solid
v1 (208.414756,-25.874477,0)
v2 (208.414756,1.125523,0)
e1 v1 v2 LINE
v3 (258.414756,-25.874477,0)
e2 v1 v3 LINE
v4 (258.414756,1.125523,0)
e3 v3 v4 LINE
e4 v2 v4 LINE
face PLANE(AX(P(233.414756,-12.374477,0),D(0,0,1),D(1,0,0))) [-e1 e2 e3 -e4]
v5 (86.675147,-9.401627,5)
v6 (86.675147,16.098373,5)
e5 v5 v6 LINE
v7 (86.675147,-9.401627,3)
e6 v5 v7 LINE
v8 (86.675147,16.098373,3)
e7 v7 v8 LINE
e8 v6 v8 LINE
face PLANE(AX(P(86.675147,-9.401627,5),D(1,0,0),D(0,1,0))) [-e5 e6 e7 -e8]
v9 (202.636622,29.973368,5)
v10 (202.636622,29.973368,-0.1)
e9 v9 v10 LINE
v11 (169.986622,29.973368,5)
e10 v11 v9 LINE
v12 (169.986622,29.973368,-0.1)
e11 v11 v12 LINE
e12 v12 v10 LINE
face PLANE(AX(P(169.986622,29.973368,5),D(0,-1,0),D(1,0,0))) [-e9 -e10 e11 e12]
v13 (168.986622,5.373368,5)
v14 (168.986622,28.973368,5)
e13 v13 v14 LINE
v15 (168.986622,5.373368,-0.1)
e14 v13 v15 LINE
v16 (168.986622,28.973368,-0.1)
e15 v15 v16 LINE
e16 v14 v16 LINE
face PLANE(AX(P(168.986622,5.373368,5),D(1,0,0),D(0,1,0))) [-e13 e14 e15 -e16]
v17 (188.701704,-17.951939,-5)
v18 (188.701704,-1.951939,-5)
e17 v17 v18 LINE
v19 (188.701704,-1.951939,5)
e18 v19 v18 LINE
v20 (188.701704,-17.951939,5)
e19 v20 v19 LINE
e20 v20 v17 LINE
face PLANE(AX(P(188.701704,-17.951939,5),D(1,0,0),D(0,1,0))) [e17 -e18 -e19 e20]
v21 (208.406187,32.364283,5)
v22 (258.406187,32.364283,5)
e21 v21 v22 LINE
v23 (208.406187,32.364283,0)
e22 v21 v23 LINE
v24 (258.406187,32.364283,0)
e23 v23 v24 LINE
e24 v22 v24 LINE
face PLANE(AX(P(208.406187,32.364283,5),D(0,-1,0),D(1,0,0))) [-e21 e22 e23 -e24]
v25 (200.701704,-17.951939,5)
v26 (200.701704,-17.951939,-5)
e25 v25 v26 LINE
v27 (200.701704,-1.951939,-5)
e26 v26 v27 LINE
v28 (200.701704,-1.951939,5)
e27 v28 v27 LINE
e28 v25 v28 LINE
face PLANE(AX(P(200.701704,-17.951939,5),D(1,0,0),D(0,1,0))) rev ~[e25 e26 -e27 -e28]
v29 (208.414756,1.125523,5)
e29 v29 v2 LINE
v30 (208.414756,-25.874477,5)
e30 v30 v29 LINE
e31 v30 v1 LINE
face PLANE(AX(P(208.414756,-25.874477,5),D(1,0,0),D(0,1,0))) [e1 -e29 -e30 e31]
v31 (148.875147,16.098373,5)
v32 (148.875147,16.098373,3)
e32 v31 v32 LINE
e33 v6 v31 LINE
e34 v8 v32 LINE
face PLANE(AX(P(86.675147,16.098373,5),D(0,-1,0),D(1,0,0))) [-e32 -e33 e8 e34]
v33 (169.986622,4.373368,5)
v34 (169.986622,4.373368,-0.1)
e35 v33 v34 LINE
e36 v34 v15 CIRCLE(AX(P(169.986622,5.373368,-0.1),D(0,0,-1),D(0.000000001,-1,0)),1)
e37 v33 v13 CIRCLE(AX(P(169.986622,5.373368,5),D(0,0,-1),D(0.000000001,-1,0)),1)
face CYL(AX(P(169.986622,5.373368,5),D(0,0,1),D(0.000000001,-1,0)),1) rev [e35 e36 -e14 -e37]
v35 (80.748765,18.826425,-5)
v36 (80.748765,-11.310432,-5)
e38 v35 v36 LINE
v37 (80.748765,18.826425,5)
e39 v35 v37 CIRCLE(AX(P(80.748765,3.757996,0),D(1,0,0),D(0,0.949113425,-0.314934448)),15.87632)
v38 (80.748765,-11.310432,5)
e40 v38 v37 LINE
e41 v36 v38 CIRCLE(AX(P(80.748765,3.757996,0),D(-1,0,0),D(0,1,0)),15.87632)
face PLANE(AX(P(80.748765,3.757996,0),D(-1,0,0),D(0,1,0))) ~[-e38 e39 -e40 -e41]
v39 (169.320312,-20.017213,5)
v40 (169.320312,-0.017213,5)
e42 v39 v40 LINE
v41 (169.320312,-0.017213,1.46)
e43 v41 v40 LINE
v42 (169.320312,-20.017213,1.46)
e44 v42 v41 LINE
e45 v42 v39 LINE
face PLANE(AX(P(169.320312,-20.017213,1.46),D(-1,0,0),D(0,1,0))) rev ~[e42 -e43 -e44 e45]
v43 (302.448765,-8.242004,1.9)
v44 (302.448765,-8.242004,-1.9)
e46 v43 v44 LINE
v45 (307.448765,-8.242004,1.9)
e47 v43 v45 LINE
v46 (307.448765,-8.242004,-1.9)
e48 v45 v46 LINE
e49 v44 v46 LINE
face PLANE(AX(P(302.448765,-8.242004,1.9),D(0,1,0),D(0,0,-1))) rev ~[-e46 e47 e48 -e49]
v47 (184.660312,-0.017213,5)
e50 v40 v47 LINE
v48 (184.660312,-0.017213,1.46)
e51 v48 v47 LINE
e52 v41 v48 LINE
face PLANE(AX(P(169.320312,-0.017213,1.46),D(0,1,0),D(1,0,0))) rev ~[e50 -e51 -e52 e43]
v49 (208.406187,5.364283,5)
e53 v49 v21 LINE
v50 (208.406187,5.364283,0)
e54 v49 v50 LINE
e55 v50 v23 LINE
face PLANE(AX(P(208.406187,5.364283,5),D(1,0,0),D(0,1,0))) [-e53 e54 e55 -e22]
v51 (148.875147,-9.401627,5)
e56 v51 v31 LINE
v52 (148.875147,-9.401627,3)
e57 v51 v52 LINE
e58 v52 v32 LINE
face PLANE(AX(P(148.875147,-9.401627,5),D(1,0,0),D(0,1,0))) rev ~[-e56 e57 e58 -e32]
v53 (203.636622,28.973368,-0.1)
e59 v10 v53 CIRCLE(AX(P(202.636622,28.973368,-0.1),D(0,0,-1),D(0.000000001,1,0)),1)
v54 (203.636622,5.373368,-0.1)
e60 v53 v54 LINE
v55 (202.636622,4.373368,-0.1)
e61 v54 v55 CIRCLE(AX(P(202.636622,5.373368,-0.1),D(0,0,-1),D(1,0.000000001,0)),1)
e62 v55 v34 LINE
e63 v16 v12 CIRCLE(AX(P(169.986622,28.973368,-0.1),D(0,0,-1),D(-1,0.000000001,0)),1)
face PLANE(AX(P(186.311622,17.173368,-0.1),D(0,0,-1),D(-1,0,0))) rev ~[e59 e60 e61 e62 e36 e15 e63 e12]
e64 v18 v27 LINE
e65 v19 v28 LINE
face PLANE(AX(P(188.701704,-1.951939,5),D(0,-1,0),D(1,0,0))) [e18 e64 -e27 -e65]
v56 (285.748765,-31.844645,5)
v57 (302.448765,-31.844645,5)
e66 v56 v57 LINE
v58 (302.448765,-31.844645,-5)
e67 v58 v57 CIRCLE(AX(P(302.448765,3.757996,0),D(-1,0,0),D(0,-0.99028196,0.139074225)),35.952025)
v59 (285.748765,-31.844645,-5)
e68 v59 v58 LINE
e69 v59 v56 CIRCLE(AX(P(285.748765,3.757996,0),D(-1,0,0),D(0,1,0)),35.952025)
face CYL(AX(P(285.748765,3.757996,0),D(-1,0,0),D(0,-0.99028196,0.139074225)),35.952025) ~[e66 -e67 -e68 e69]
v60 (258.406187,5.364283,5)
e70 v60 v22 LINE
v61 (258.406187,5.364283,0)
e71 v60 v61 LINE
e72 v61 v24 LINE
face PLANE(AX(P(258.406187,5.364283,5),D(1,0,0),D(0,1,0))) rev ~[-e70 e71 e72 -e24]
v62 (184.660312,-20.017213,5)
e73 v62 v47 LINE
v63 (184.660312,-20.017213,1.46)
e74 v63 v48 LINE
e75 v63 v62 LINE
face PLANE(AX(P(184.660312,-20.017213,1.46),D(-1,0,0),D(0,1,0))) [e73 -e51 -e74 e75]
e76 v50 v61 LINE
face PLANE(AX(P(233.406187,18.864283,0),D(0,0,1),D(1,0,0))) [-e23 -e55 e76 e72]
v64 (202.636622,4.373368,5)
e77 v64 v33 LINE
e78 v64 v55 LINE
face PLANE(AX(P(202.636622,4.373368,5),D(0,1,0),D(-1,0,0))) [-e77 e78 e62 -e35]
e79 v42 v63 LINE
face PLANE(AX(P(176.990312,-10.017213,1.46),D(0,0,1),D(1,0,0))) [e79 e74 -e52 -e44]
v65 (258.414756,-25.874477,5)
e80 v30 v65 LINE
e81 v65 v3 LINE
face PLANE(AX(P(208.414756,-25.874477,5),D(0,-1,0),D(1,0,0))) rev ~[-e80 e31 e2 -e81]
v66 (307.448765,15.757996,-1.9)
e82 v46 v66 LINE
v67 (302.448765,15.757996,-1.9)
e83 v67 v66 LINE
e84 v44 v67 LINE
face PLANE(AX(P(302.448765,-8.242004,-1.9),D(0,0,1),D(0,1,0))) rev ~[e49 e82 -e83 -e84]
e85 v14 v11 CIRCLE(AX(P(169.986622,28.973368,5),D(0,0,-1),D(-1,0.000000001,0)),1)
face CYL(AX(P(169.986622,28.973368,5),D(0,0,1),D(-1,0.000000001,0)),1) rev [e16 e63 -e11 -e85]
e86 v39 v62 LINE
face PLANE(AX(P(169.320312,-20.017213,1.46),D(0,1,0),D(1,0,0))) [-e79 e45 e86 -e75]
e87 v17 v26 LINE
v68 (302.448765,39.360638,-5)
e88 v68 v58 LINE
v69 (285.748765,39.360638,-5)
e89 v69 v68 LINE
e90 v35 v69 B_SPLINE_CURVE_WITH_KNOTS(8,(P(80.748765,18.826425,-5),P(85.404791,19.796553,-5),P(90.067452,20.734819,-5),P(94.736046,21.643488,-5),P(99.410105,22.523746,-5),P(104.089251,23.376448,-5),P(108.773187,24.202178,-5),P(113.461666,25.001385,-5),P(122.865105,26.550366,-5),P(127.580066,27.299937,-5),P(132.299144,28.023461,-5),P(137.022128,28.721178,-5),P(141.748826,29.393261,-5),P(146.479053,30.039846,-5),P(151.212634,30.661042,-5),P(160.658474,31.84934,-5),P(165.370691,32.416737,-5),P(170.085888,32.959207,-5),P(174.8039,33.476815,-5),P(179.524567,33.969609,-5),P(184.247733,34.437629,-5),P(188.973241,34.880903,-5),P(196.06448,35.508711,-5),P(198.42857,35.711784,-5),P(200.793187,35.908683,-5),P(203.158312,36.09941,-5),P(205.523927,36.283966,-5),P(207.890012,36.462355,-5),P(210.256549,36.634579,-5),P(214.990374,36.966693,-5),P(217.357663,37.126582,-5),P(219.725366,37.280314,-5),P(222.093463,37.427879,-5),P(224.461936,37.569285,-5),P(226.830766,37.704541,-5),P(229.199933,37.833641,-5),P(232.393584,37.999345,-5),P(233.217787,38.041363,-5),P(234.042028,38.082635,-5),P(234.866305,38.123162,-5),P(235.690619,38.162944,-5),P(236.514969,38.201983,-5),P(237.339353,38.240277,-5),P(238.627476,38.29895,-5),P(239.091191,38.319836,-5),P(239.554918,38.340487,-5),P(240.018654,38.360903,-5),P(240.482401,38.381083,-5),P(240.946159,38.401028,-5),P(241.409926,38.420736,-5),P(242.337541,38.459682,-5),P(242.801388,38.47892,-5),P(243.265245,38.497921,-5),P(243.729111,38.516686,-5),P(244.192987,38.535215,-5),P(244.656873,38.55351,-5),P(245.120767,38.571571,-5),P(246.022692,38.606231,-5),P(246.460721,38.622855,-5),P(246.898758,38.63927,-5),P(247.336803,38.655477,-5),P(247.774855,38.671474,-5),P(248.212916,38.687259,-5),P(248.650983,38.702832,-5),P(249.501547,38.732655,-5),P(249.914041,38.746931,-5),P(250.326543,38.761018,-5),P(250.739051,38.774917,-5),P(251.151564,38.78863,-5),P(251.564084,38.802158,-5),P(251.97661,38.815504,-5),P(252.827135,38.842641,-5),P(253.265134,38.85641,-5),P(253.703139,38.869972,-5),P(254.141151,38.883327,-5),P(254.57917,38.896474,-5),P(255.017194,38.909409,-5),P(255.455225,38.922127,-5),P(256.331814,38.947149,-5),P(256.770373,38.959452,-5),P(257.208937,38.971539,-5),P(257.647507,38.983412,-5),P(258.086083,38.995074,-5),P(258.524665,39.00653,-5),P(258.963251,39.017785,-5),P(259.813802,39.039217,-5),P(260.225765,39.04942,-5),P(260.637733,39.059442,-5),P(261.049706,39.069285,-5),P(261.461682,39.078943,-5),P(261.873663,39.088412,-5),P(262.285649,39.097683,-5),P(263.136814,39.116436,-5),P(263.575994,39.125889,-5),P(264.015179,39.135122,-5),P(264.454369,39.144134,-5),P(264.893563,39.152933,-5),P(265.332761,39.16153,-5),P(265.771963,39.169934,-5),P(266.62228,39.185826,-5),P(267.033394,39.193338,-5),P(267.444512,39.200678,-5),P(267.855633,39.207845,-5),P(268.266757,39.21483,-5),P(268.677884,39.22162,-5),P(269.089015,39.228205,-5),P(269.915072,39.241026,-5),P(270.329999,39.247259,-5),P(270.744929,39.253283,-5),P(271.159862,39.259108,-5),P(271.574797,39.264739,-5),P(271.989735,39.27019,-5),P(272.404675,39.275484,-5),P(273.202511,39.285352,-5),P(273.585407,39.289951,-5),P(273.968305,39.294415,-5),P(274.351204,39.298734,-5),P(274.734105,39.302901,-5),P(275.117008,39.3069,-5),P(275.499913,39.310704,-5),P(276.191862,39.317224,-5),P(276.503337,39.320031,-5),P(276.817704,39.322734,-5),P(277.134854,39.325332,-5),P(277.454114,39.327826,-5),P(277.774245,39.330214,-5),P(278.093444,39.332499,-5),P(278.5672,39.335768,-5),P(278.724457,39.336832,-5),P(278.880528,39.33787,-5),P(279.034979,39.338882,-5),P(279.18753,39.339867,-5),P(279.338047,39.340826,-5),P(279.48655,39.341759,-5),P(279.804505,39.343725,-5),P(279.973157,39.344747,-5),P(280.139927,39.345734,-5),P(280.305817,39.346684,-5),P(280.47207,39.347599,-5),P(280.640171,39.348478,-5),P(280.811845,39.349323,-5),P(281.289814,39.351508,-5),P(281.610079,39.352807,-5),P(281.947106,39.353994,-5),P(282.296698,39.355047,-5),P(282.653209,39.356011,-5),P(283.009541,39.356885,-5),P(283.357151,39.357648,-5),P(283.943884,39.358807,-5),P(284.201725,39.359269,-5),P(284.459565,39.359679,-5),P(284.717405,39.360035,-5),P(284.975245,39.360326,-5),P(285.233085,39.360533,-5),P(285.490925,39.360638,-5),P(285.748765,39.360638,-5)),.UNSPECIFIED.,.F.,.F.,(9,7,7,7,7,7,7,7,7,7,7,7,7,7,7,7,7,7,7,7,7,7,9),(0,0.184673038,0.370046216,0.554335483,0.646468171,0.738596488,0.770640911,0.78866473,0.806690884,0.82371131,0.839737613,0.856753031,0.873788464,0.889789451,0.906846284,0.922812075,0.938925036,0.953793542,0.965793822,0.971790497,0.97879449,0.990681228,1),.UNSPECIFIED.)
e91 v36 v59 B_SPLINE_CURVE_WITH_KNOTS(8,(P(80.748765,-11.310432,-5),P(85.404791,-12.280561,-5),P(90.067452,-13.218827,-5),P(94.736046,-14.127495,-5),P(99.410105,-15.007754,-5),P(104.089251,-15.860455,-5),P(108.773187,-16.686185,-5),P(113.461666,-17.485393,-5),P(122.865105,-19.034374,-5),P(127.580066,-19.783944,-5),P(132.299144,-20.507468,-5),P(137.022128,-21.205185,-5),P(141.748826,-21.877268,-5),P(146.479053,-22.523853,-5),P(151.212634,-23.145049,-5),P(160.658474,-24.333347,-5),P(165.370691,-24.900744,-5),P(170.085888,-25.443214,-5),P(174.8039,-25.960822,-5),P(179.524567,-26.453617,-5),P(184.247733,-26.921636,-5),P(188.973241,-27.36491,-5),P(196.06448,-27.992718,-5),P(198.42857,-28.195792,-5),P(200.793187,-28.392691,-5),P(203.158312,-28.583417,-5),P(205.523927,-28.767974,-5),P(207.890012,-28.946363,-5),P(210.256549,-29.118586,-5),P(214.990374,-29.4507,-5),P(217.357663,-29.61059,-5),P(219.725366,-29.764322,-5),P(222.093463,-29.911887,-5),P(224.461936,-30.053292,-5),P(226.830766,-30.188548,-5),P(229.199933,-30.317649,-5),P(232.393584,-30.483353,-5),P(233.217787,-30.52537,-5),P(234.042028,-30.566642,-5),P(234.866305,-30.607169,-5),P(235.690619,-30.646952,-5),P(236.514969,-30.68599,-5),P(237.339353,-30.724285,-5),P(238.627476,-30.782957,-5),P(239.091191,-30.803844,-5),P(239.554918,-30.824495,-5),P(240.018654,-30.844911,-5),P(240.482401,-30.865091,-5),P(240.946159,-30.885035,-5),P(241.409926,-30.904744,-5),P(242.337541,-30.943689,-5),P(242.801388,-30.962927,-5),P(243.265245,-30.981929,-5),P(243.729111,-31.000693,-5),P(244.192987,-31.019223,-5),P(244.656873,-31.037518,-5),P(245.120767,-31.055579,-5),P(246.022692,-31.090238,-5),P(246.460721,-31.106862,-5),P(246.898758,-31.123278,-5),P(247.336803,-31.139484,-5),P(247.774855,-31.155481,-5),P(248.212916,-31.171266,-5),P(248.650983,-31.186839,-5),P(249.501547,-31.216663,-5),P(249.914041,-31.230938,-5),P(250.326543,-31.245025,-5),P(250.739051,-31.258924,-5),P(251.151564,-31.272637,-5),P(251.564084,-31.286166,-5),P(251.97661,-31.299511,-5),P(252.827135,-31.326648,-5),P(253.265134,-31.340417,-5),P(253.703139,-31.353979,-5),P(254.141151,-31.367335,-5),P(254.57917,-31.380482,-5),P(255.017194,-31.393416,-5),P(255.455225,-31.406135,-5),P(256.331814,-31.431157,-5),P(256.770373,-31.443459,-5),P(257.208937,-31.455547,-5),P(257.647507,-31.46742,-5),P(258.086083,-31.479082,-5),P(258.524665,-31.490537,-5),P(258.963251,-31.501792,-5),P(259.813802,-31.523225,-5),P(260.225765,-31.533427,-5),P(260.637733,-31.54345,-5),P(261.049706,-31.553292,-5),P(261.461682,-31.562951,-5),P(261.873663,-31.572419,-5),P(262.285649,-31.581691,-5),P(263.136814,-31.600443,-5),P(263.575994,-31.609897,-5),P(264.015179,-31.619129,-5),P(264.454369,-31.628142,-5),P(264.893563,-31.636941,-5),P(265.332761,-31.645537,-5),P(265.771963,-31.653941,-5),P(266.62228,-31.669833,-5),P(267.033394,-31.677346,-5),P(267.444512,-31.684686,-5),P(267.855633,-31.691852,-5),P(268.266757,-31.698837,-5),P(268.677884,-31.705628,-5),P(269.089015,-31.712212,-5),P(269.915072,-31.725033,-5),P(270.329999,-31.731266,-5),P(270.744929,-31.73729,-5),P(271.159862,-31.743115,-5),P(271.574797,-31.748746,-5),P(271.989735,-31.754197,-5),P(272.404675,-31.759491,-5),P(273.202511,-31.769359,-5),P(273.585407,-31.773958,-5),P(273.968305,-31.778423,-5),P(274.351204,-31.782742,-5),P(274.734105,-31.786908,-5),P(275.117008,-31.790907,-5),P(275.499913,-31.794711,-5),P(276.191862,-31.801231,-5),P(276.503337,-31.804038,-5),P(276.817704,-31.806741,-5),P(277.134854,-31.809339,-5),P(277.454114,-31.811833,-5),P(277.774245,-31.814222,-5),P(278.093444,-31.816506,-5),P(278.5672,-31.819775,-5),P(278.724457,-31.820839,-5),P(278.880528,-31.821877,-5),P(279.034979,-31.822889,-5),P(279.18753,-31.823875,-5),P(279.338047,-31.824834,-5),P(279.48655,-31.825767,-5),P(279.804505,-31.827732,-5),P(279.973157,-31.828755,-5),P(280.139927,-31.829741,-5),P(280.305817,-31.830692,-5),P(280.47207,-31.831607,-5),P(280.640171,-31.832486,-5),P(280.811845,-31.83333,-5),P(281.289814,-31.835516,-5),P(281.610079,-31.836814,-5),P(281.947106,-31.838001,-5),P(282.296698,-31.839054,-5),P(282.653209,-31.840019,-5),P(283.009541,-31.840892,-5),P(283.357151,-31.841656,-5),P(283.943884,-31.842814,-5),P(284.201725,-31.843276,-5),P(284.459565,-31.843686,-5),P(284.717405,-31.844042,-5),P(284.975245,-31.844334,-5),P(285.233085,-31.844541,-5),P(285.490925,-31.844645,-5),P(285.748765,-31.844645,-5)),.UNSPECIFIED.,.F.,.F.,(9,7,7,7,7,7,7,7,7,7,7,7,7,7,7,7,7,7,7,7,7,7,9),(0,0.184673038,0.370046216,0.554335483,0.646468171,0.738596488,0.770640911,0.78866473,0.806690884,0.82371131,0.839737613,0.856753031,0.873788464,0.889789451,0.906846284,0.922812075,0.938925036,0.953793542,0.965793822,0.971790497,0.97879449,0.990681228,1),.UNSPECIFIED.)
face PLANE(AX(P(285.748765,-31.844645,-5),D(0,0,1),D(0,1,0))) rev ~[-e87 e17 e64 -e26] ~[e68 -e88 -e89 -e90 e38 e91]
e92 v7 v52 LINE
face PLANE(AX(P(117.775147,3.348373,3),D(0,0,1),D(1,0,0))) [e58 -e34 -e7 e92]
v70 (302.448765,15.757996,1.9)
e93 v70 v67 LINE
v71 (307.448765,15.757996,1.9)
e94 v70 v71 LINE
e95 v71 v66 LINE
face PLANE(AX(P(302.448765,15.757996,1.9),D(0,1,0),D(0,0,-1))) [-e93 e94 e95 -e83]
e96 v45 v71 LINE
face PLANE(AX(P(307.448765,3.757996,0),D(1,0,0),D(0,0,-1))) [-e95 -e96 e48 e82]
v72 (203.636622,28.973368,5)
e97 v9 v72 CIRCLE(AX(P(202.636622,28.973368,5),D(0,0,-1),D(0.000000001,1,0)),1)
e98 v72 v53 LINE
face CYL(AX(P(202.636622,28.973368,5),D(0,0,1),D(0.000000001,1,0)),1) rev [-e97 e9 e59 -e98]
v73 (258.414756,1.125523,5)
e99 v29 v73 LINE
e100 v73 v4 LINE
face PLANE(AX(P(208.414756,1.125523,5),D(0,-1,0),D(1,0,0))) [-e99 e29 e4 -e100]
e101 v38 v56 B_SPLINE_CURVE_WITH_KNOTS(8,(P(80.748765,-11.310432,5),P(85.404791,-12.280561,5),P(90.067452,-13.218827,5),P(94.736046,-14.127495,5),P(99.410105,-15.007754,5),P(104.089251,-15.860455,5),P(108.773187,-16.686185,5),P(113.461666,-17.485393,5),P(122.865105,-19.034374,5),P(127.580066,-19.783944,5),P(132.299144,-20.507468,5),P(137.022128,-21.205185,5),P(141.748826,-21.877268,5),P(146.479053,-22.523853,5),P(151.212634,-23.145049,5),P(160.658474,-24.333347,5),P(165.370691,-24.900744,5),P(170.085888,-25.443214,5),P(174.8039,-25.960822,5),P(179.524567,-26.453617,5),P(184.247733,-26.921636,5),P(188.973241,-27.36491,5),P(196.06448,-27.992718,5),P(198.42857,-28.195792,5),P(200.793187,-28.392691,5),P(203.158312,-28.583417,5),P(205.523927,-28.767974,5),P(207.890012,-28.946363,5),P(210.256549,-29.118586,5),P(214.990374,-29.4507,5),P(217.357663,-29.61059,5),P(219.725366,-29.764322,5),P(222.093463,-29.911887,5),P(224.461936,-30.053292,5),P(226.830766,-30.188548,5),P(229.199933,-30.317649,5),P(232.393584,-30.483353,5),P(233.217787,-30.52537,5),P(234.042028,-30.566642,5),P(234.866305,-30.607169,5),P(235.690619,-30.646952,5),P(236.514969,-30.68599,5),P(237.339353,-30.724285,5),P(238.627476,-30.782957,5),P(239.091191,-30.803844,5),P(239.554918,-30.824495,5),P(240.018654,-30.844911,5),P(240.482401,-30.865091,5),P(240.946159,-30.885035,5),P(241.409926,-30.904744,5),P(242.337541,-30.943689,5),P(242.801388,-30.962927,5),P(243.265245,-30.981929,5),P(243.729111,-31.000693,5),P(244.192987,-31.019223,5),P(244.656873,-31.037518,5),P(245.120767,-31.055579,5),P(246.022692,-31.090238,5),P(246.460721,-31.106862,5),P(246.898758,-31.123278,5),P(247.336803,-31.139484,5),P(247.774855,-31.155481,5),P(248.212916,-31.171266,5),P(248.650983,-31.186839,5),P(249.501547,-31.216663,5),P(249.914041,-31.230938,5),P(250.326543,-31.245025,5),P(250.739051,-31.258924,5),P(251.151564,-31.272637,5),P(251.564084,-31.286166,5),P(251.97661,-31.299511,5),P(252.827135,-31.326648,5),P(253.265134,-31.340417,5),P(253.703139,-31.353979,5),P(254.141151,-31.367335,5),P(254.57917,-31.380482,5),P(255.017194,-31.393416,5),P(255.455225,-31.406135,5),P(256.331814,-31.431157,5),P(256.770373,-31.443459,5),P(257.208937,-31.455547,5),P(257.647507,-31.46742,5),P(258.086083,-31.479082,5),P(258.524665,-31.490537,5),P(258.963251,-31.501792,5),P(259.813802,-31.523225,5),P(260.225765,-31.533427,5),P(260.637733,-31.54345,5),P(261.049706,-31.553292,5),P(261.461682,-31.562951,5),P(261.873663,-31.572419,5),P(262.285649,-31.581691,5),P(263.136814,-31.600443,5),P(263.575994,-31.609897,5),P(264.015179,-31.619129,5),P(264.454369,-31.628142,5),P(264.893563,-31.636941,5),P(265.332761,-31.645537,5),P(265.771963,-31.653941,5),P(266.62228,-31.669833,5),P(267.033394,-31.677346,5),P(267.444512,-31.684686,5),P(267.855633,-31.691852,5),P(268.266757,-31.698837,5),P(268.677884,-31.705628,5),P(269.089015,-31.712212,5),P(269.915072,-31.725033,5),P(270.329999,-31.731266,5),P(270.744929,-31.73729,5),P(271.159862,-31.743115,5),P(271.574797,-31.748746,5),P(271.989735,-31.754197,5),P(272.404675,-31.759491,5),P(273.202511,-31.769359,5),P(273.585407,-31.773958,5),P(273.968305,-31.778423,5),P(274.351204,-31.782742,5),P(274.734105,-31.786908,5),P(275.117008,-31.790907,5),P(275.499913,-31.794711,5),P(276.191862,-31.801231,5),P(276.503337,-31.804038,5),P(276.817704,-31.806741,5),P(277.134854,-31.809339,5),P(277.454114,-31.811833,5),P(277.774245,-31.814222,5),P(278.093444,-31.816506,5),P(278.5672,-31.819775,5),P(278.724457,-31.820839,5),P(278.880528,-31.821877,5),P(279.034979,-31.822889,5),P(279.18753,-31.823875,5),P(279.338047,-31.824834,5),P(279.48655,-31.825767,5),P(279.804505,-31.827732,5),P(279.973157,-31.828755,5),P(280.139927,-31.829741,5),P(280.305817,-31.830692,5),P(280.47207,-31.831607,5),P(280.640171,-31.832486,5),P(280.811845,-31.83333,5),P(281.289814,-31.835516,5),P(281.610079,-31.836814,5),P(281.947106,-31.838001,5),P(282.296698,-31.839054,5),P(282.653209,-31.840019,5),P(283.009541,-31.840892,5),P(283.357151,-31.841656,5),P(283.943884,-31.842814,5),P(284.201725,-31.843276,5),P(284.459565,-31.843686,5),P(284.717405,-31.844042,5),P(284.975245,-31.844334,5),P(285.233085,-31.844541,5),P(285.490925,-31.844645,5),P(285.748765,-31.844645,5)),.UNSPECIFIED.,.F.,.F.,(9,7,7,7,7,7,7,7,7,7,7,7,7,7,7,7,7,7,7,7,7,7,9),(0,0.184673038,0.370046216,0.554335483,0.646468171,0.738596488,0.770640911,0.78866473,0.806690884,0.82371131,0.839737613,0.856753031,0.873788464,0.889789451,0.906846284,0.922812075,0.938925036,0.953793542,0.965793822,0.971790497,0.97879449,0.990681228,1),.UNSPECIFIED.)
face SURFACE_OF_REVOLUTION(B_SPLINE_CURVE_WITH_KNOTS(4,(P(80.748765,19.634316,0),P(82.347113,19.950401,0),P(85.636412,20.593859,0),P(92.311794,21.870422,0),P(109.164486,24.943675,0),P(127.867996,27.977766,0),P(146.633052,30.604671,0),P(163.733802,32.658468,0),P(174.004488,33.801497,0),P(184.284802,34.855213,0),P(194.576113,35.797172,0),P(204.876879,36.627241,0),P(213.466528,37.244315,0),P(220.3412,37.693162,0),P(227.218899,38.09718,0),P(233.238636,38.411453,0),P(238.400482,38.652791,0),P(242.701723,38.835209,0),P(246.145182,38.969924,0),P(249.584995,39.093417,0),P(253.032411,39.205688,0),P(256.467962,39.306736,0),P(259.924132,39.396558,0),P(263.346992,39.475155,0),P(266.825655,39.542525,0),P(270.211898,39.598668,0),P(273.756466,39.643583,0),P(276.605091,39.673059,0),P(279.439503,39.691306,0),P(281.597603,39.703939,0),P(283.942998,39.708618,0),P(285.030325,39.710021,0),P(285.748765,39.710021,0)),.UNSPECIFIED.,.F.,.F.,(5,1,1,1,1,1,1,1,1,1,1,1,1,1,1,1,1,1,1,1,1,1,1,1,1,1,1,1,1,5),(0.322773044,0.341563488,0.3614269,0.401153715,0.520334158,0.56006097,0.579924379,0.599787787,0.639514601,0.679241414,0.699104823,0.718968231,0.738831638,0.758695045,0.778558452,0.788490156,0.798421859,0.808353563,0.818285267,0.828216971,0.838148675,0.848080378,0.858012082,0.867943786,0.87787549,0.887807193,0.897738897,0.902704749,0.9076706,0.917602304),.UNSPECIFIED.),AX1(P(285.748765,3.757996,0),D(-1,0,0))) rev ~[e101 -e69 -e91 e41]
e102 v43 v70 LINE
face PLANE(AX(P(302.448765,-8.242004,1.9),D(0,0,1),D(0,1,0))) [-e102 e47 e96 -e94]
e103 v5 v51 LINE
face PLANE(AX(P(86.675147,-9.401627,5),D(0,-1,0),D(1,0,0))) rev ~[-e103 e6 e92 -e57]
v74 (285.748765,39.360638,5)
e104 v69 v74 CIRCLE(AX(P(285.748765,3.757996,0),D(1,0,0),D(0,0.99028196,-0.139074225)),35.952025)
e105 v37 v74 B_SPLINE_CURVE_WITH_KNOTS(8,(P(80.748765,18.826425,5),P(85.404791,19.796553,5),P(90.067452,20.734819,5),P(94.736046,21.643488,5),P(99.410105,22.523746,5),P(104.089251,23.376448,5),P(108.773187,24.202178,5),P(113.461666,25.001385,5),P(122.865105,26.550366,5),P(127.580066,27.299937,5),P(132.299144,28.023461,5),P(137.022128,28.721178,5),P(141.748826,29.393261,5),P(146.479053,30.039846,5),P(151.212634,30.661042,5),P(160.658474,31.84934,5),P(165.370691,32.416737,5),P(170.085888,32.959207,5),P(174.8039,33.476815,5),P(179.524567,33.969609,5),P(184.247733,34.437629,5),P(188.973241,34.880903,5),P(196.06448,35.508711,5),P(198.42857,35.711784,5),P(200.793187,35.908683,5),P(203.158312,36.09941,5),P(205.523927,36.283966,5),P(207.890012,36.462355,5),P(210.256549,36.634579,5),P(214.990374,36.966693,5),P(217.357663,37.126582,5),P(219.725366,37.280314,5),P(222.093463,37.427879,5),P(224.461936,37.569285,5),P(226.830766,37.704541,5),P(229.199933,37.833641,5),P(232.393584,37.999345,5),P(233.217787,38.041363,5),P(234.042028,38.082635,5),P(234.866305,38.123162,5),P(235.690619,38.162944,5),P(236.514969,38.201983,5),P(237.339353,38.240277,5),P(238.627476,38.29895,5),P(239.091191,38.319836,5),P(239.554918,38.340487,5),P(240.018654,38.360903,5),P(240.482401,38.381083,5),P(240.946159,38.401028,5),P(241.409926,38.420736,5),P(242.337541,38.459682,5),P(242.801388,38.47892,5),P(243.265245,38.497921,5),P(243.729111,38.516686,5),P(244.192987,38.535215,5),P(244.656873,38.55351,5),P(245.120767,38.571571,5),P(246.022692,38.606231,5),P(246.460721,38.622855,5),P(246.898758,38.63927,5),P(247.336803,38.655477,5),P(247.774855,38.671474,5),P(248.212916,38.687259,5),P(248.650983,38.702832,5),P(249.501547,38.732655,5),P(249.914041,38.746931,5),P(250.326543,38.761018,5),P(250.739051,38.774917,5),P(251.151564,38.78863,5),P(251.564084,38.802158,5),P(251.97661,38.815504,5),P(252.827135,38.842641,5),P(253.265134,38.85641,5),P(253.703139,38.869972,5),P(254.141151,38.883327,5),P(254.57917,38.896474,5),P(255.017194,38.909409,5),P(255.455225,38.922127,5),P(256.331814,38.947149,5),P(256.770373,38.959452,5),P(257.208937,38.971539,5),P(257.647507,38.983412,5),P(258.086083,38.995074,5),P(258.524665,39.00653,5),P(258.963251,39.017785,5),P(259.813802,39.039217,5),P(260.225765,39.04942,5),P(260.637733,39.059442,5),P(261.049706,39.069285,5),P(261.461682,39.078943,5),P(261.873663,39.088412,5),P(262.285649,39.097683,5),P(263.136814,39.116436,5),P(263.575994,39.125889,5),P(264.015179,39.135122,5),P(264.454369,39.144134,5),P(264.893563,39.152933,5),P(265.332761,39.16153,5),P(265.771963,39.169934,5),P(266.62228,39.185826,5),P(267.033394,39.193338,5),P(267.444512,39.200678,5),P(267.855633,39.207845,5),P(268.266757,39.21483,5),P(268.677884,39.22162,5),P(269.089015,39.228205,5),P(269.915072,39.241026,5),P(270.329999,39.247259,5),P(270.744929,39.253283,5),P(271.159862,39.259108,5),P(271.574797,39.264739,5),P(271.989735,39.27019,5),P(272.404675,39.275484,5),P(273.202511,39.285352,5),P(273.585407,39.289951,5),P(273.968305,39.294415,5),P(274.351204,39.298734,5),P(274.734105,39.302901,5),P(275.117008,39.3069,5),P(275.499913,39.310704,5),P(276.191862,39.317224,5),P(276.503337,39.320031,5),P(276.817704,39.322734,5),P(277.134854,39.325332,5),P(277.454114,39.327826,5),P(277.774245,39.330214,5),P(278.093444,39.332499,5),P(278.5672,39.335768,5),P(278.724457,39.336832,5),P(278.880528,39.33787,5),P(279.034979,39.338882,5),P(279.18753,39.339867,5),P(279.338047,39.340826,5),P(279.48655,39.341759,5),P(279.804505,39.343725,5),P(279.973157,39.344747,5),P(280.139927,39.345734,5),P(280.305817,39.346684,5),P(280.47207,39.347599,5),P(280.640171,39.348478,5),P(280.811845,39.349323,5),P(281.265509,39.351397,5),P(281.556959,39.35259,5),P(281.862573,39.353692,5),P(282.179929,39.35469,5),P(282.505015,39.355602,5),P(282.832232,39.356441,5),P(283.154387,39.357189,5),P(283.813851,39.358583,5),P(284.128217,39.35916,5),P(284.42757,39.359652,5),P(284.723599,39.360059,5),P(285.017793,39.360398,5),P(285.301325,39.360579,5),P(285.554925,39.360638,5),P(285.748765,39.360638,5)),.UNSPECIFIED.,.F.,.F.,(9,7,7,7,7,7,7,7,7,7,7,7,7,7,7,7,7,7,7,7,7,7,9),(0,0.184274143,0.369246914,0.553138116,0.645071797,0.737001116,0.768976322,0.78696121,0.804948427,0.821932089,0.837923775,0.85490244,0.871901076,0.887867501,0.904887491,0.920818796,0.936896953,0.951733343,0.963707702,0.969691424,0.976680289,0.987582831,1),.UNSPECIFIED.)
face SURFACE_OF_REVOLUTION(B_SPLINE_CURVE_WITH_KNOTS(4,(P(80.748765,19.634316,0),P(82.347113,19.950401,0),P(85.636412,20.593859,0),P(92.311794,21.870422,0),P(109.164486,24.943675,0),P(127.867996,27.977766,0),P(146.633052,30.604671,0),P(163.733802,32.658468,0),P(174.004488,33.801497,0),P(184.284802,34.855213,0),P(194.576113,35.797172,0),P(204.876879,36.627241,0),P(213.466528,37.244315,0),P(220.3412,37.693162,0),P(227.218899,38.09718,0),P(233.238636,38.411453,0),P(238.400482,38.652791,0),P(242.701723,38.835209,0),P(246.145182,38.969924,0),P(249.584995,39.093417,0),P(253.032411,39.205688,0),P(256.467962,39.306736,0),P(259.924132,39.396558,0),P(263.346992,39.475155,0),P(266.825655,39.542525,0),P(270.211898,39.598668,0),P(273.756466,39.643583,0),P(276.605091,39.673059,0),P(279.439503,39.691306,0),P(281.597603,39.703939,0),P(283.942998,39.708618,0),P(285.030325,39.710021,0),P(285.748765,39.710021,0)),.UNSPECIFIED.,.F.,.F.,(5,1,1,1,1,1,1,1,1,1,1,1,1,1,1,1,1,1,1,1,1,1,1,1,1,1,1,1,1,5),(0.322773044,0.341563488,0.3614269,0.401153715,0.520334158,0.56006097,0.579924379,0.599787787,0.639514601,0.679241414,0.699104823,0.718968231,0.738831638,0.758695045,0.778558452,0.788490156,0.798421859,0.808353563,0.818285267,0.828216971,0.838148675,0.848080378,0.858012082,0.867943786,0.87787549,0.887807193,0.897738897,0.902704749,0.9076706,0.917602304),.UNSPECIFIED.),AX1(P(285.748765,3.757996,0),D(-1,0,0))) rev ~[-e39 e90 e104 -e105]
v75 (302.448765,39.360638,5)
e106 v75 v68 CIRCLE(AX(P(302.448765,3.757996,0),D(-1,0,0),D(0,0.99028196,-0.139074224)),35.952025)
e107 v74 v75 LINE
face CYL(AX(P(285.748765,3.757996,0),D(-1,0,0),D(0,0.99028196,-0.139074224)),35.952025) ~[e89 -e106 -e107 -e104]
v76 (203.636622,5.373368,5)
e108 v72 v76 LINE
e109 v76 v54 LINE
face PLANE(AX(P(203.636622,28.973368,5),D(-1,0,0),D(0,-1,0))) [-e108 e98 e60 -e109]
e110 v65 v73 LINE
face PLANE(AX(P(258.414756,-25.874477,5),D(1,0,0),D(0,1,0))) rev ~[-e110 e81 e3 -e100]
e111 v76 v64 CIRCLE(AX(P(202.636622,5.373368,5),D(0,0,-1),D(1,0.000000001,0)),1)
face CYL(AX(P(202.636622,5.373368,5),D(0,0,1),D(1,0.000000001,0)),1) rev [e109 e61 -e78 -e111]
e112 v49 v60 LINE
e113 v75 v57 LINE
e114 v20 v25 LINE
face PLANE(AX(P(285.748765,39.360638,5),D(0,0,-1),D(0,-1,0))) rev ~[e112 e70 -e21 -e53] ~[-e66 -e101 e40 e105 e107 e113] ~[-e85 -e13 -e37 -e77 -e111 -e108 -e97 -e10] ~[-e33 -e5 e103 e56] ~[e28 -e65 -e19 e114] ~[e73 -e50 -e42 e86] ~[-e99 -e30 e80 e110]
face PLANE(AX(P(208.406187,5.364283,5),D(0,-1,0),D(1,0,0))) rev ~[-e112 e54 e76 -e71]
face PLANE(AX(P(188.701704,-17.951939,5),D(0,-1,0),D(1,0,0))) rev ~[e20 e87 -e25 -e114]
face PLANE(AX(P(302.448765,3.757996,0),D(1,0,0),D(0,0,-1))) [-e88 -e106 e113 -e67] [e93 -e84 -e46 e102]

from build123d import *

# Parameters (mm, degrees)
CUT_EXTRUDE1_DEPTH   = 212.88306668
BOSS_EXTRUDE2_DEPTH  = 139.7
SKETCH9_R            = 35.95202499
BOSS_EXTRUDE3_DEPTH  = 4
CUT_EXTRUDE2_DEPTH   = 4
SKETCH11_W           = 10
SKETCH11_H           = 34
CUT_EXTRUDE3_DEPTH   = 15
RASPBERRY_PI_5_DEPTH = 5
GPS_SLOT_DEPTH       = 5.1
SKETCH14_W           = 12
SKETCH14_H           = 16
MPU_DEPTH            = 434.220724454
ALTIMETER_DEPTH      = 434.220724454
ALTIMETER_DEPTH_BACK = 3.54
SKETCH15_W           = 15.34
SKETCH15_H           = 20
SKETCH16_W           = 62.2
SKETCH16_H           = 25.5
PCA9685_DEPTH        = 2
SKETCH17_W           = 50
SKETCH17_H           = 27
ESP_32_1_DEPTH       = 5
SKETCH18_W           = 55
SKETCH18_H           = 30.1
BATTERY_1_DEPTH      = 3.5
SKETCH21_W           = 55
SKETCH21_H           = 30.1
BATTERY_2_DEPTH      = 3.5
SKETCH25_W           = 21.1
SKETCH25_H           = 43.1
STEP_DOWN_DEPTH      = 1
BOSS_EXTRUDE4_START  = -120
SKETCH27_R           = 36.3
SKETCH27_R_2         = 30
BOSS_EXTRUDE4_DEPTH  = 7
CUT_EXTRUDE4_START   = -127
SKETCH28_R           = 36.3
CUT_EXTRUDE4_DEPTH   = 480.865446219
SKETCH29_W           = 3.8
SKETCH29_H           = 24
BOSS_EXTRUDE5_DEPTH  = 5
SKETCH33_W           = 50
SKETCH33_H           = 27
ESP_32_2_DEPTH       = 5


with BuildPart() as part:
    # Sketch3 → Revolve1 (revolve)
    with BuildSketch(Plane.XY):
        with BuildLine():
            Line((285.74876522, 39.710021262), (285.74876522, 3.757996272))
            Line((285.74876522, 3.757996272), (80.74876522, 3.757996272))
            Line((80.74876522, 3.757996272), (80.74876522, 19.634316044))
            add(Edge.make_bspline(
                [(80.74876522, 19.634316044), (82.347112552, 19.950400666), (85.636412123, 20.593859316), (92.311794173, 21.870421625), (109.164486257, 24.943674568), (127.867996046, 27.977765645), (146.633052135, 30.604670801), (163.733801994, 32.658467989), (174.004488004, 33.801497199), (184.284802392, 34.855212792), (194.57611333, 35.797171826), (204.876878825, 36.627240946), (213.466527777, 37.244314669), (220.34120026, 37.693162367), (227.218898943, 38.097179671), (233.238636081, 38.411453209), (238.400481516, 38.652791264), (242.701722554, 38.8352093), (246.145182192, 38.969923968), (249.584994627, 39.093417446), (253.03241088, 39.20568842), (256.467961578, 39.306735697), (259.924132141, 39.396558203), (263.346991762, 39.475154984), (266.82565511, 39.542525204), (270.211898057, 39.598668148), (273.756466178, 39.643583219), (276.60509147, 39.673059099), (279.43950326, 39.691306197), (281.597603414, 39.703938851), (283.942998009, 39.708617629), (285.03032454, 39.710021262), (285.74876522, 39.710021262)],
                knots=[0.322773044, 0.322773044, 0.322773044, 0.322773044, 0.322773044, 0.341563488, 0.3614269, 0.401153715, 0.520334158, 0.56006097, 0.579924379, 0.599787787, 0.639514601, 0.679241414, 0.699104823, 0.718968231, 0.738831638, 0.758695045, 0.778558452, 0.788490156, 0.798421859, 0.808353563, 0.818285267, 0.828216971, 0.838148675, 0.848080378, 0.858012082, 0.867943786, 0.87787549, 0.887807193, 0.897738897, 0.902704749, 0.9076706, 0.917602304, 0.917602304, 0.917602304, 0.917602304, 0.917602304], degree=4))
        make_face()
    revolve(axis=Axis((285.74876522, 3.757996272, 0), (-1, 0, 0)))

    # Sketch6 → Cut-Extrude1 (cut, through all)
    with BuildSketch(Plane(origin=(285.74876522, 0, 0), x_dir=(0, 0, -1), z_dir=(1, 0, 0))):
        with BuildLine():
            Line((-5, -31.844645496), (-5, 39.36063804))
            ThreePointArc((-5, 39.360638041), (-35.95202499, 3.757996272), (-5, -31.844645496))
        make_face()
        with BuildLine():
            ThreePointArc((35.95202499, 3.757996272), (27.132160123, 27.346001444), (5, 39.36063804))
            Line((5, 39.36063804), (5, -31.844645496))
            ThreePointArc((5, -31.844645496), (27.132160123, -19.830008899), (35.95202499, 3.757996272))
        make_face()
    extrude(amount=-CUT_EXTRUDE1_DEPTH, mode=Mode.SUBTRACT)

    # Sketch8 → Boss-Extrude2 (add)
    with BuildSketch(Plane(origin=(285.74876522, 0, 0), x_dir=(0, 0, -1), z_dir=(1, 0, 0))):
        with BuildLine():
            Line((5, -31.844645496), (5, 39.360638041))
            ThreePointArc((5, 39.360638041), (0, 39.710021262), (-5, 39.360638041))
            Line((-5, 39.360638041), (-5, -31.844645496))
            ThreePointArc((-5, -31.844645496), (0, -32.194028718), (5, -31.844645496))
        make_face()
    extrude(amount=BOSS_EXTRUDE2_DEPTH)

    # Sketch9 → Boss-Extrude3 (add)
    with BuildSketch(Plane(origin=(425.44876522, 0, 0), x_dir=(0, 0, -1), z_dir=(1, 0, 0))):
        with Locations(Location((0, 3.757996272, 0), (0, 0, 262.00572083))):
            Circle(SKETCH9_R)
    extrude(amount=BOSS_EXTRUDE3_DEPTH)

    # Sketch10 → Cut-Extrude2 (cut)
    with BuildSketch(Plane(origin=(429.44876522, 0, 0), x_dir=(0, 0, -1), z_dir=(1, 0, 0))):
        Polygon((-17, -4.442003728), (-17, 11.957996272), (-8.2, 20.757996272), (8.2, 20.757996272), (17, 11.957996272), (17, -4.442003728), (8.2, -13.242003728), (-8.2, -13.242003728), align=None)
    extrude(amount=-CUT_EXTRUDE2_DEPTH, mode=Mode.SUBTRACT)

    # Sketch11 → Cut-Extrude3 (cut)
    with BuildSketch(Plane(origin=(425.44876522, 0, 0), x_dir=(0, 0, -1), z_dir=(1, 0, 0))):
        with Locations((0, 3.757996272)):
            Rectangle(SKETCH11_W, SKETCH11_H)
    extrude(amount=-CUT_EXTRUDE3_DEPTH, mode=Mode.SUBTRACT)

    # Sketch12 → Raspberry Pi 5 (cut)
    with BuildSketch(Plane.XY.offset(5)):
        with BuildLine():
            Line((404.44876522, -22.611276601), (321.44876522, -22.611276601))
            ThreePointArc((321.44876522, -22.611276601), (320.741658439, -22.318383382), (320.44876522, -21.611276601))
            Line((320.44876522, -21.611276601), (320.44876522, 32.388723399))
            ThreePointArc((320.44876522, 32.388723399), (320.741658439, 33.09583018), (321.44876522, 33.388723399))
            Line((321.44876522, 33.388723399), (404.44876522, 33.388723399))
            ThreePointArc((404.44876522, 33.388723399), (405.155872001, 33.09583018), (405.44876522, 32.388723399))
            Line((405.44876522, 32.388723399), (405.44876522, -21.611276601))
            ThreePointArc((405.44876522, -21.611276601), (405.155872001, -22.318383382), (404.44876522, -22.611276601))
        make_face()
    extrude(amount=-RASPBERRY_PI_5_DEPTH, mode=Mode.SUBTRACT)

    # Sketch13 → GPS Slot (cut)
    with BuildSketch(Plane.XY.offset(5)):
        with BuildLine():
            Line((202.636622216, 4.373367791), (169.986622216, 4.373367791))
            ThreePointArc((169.986622216, 4.373367791), (169.279515435, 4.666261009), (168.986622216, 5.373367791))
            Line((168.986622216, 5.373367791), (168.986622216, 28.973367791))
            ThreePointArc((168.986622216, 28.973367791), (169.279515435, 29.680474572), (169.986622216, 29.973367791))
            Line((169.986622216, 29.973367791), (202.636622216, 29.973367791))
            ThreePointArc((202.636622216, 29.973367791), (203.343728997, 29.680474572), (203.636622216, 28.973367791))
            Line((203.636622216, 28.973367791), (203.636622216, 5.373367791))
            ThreePointArc((203.636622216, 5.373367791), (203.343728997, 4.666261009), (202.636622216, 4.373367791))
        make_face()
    extrude(amount=-GPS_SLOT_DEPTH, mode=Mode.SUBTRACT)

    # Sketch14 → MPU (cut, through all)
    with BuildSketch(Plane.XY.offset(5)):
        with Locations((194.701703522, -9.951938862)):
            Rectangle(SKETCH14_W, SKETCH14_H)
    extrude(amount=-MPU_DEPTH, mode=Mode.SUBTRACT)

    # Sketch15 → Altimeter (cut, two sides: drawn at the far end of the back side and taken through both)
    with BuildSketch(Plane.XY.offset(5).offset(-ALTIMETER_DEPTH_BACK)):
        with Locations((176.990311954, -10.017213078)):
            Rectangle(SKETCH15_W, SKETCH15_H)
    extrude(amount=ALTIMETER_DEPTH + ALTIMETER_DEPTH_BACK, mode=Mode.SUBTRACT)

    # Sketch16 → PCA9685 (cut)
    with BuildSketch(Plane.XY.offset(5)):
        with Locations((117.775147159, 3.348372785)):
            Rectangle(SKETCH16_W, SKETCH16_H)
    extrude(amount=-PCA9685_DEPTH, mode=Mode.SUBTRACT)

    # Sketch17 → ESP-32 (1) (cut)
    with BuildSketch(Plane.XY.offset(5)):
        with Locations((233.414755785, -12.374476934)):
            Rectangle(SKETCH17_W, SKETCH17_H)
    extrude(amount=-ESP_32_1_DEPTH, mode=Mode.SUBTRACT)

    # Sketch18 → Battery 1 (cut)
    with BuildSketch(Plane(origin=(0, 0, -5), x_dir=(-1, 0, 0), z_dir=(0, 0, -1))):
        with Locations((-377.94876522, 19.967269146)):
            Rectangle(SKETCH18_W, SKETCH18_H)
    extrude(amount=-BATTERY_1_DEPTH, mode=Mode.SUBTRACT)

    # Sketch21 → Battery 2 (cut)
    with BuildSketch(Plane(origin=(0, 0, -5), x_dir=(-1, 0, 0), z_dir=(0, 0, -1))):
        with Locations((-377.94876522, -12.451276601)):
            Rectangle(SKETCH21_W, SKETCH21_H)
    extrude(amount=-BATTERY_2_DEPTH, mode=Mode.SUBTRACT)

    # Sketch25 → Step Down (cut)
    with BuildSketch(Plane(origin=(0, 0, -5), x_dir=(-1, 0, 0), z_dir=(0, 0, -1))):
        with Locations((-323.977591294, 5.876880331)):
            Rectangle(SKETCH25_W, SKETCH25_H)
    extrude(amount=-STEP_DOWN_DEPTH, mode=Mode.SUBTRACT)

    # Sketch27 → Boss-Extrude4 (add)
    with BuildSketch(Plane(origin=(429.44876522, 0, 0), x_dir=(0, 0, -1), z_dir=(1, 0, 0)).offset(BOSS_EXTRUDE4_START)):
        with Locations((0, 3.757996272)):
            Circle(SKETCH27_R)
        with Locations((0, 3.757996272)):
            Circle(SKETCH27_R_2, mode=Mode.SUBTRACT)
    extrude(amount=-BOSS_EXTRUDE4_DEPTH)

    # Sketch28 → Cut-Extrude4 (cut, through all)
    with BuildSketch(Plane(origin=(429.44876522, 0, 0), x_dir=(0, 0, -1), z_dir=(1, 0, 0)).offset(CUT_EXTRUDE4_START)):
        with Locations((0, 3.757996272)):
            Circle(SKETCH28_R)
    extrude(amount=CUT_EXTRUDE4_DEPTH, mode=Mode.SUBTRACT)

    # Sketch29 → Boss-Extrude5 (add)
    with BuildSketch(Plane(origin=(302.44876522, 0, 0), x_dir=(0, 0, -1), z_dir=(1, 0, 0))):
        with Locations((0, 3.757996272)):
            Rectangle(SKETCH29_W, SKETCH29_H)
    extrude(amount=BOSS_EXTRUDE5_DEPTH)

    # Sketch33 → ESP-32 (2) (cut)
    with BuildSketch(Plane.XY.offset(5)):
        with Locations((233.406186828, 18.864282523)):
            Rectangle(SKETCH33_W, SKETCH33_H)
    extrude(amount=-ESP_32_2_DEPTH, mode=Mode.SUBTRACT)


solid = part.part
